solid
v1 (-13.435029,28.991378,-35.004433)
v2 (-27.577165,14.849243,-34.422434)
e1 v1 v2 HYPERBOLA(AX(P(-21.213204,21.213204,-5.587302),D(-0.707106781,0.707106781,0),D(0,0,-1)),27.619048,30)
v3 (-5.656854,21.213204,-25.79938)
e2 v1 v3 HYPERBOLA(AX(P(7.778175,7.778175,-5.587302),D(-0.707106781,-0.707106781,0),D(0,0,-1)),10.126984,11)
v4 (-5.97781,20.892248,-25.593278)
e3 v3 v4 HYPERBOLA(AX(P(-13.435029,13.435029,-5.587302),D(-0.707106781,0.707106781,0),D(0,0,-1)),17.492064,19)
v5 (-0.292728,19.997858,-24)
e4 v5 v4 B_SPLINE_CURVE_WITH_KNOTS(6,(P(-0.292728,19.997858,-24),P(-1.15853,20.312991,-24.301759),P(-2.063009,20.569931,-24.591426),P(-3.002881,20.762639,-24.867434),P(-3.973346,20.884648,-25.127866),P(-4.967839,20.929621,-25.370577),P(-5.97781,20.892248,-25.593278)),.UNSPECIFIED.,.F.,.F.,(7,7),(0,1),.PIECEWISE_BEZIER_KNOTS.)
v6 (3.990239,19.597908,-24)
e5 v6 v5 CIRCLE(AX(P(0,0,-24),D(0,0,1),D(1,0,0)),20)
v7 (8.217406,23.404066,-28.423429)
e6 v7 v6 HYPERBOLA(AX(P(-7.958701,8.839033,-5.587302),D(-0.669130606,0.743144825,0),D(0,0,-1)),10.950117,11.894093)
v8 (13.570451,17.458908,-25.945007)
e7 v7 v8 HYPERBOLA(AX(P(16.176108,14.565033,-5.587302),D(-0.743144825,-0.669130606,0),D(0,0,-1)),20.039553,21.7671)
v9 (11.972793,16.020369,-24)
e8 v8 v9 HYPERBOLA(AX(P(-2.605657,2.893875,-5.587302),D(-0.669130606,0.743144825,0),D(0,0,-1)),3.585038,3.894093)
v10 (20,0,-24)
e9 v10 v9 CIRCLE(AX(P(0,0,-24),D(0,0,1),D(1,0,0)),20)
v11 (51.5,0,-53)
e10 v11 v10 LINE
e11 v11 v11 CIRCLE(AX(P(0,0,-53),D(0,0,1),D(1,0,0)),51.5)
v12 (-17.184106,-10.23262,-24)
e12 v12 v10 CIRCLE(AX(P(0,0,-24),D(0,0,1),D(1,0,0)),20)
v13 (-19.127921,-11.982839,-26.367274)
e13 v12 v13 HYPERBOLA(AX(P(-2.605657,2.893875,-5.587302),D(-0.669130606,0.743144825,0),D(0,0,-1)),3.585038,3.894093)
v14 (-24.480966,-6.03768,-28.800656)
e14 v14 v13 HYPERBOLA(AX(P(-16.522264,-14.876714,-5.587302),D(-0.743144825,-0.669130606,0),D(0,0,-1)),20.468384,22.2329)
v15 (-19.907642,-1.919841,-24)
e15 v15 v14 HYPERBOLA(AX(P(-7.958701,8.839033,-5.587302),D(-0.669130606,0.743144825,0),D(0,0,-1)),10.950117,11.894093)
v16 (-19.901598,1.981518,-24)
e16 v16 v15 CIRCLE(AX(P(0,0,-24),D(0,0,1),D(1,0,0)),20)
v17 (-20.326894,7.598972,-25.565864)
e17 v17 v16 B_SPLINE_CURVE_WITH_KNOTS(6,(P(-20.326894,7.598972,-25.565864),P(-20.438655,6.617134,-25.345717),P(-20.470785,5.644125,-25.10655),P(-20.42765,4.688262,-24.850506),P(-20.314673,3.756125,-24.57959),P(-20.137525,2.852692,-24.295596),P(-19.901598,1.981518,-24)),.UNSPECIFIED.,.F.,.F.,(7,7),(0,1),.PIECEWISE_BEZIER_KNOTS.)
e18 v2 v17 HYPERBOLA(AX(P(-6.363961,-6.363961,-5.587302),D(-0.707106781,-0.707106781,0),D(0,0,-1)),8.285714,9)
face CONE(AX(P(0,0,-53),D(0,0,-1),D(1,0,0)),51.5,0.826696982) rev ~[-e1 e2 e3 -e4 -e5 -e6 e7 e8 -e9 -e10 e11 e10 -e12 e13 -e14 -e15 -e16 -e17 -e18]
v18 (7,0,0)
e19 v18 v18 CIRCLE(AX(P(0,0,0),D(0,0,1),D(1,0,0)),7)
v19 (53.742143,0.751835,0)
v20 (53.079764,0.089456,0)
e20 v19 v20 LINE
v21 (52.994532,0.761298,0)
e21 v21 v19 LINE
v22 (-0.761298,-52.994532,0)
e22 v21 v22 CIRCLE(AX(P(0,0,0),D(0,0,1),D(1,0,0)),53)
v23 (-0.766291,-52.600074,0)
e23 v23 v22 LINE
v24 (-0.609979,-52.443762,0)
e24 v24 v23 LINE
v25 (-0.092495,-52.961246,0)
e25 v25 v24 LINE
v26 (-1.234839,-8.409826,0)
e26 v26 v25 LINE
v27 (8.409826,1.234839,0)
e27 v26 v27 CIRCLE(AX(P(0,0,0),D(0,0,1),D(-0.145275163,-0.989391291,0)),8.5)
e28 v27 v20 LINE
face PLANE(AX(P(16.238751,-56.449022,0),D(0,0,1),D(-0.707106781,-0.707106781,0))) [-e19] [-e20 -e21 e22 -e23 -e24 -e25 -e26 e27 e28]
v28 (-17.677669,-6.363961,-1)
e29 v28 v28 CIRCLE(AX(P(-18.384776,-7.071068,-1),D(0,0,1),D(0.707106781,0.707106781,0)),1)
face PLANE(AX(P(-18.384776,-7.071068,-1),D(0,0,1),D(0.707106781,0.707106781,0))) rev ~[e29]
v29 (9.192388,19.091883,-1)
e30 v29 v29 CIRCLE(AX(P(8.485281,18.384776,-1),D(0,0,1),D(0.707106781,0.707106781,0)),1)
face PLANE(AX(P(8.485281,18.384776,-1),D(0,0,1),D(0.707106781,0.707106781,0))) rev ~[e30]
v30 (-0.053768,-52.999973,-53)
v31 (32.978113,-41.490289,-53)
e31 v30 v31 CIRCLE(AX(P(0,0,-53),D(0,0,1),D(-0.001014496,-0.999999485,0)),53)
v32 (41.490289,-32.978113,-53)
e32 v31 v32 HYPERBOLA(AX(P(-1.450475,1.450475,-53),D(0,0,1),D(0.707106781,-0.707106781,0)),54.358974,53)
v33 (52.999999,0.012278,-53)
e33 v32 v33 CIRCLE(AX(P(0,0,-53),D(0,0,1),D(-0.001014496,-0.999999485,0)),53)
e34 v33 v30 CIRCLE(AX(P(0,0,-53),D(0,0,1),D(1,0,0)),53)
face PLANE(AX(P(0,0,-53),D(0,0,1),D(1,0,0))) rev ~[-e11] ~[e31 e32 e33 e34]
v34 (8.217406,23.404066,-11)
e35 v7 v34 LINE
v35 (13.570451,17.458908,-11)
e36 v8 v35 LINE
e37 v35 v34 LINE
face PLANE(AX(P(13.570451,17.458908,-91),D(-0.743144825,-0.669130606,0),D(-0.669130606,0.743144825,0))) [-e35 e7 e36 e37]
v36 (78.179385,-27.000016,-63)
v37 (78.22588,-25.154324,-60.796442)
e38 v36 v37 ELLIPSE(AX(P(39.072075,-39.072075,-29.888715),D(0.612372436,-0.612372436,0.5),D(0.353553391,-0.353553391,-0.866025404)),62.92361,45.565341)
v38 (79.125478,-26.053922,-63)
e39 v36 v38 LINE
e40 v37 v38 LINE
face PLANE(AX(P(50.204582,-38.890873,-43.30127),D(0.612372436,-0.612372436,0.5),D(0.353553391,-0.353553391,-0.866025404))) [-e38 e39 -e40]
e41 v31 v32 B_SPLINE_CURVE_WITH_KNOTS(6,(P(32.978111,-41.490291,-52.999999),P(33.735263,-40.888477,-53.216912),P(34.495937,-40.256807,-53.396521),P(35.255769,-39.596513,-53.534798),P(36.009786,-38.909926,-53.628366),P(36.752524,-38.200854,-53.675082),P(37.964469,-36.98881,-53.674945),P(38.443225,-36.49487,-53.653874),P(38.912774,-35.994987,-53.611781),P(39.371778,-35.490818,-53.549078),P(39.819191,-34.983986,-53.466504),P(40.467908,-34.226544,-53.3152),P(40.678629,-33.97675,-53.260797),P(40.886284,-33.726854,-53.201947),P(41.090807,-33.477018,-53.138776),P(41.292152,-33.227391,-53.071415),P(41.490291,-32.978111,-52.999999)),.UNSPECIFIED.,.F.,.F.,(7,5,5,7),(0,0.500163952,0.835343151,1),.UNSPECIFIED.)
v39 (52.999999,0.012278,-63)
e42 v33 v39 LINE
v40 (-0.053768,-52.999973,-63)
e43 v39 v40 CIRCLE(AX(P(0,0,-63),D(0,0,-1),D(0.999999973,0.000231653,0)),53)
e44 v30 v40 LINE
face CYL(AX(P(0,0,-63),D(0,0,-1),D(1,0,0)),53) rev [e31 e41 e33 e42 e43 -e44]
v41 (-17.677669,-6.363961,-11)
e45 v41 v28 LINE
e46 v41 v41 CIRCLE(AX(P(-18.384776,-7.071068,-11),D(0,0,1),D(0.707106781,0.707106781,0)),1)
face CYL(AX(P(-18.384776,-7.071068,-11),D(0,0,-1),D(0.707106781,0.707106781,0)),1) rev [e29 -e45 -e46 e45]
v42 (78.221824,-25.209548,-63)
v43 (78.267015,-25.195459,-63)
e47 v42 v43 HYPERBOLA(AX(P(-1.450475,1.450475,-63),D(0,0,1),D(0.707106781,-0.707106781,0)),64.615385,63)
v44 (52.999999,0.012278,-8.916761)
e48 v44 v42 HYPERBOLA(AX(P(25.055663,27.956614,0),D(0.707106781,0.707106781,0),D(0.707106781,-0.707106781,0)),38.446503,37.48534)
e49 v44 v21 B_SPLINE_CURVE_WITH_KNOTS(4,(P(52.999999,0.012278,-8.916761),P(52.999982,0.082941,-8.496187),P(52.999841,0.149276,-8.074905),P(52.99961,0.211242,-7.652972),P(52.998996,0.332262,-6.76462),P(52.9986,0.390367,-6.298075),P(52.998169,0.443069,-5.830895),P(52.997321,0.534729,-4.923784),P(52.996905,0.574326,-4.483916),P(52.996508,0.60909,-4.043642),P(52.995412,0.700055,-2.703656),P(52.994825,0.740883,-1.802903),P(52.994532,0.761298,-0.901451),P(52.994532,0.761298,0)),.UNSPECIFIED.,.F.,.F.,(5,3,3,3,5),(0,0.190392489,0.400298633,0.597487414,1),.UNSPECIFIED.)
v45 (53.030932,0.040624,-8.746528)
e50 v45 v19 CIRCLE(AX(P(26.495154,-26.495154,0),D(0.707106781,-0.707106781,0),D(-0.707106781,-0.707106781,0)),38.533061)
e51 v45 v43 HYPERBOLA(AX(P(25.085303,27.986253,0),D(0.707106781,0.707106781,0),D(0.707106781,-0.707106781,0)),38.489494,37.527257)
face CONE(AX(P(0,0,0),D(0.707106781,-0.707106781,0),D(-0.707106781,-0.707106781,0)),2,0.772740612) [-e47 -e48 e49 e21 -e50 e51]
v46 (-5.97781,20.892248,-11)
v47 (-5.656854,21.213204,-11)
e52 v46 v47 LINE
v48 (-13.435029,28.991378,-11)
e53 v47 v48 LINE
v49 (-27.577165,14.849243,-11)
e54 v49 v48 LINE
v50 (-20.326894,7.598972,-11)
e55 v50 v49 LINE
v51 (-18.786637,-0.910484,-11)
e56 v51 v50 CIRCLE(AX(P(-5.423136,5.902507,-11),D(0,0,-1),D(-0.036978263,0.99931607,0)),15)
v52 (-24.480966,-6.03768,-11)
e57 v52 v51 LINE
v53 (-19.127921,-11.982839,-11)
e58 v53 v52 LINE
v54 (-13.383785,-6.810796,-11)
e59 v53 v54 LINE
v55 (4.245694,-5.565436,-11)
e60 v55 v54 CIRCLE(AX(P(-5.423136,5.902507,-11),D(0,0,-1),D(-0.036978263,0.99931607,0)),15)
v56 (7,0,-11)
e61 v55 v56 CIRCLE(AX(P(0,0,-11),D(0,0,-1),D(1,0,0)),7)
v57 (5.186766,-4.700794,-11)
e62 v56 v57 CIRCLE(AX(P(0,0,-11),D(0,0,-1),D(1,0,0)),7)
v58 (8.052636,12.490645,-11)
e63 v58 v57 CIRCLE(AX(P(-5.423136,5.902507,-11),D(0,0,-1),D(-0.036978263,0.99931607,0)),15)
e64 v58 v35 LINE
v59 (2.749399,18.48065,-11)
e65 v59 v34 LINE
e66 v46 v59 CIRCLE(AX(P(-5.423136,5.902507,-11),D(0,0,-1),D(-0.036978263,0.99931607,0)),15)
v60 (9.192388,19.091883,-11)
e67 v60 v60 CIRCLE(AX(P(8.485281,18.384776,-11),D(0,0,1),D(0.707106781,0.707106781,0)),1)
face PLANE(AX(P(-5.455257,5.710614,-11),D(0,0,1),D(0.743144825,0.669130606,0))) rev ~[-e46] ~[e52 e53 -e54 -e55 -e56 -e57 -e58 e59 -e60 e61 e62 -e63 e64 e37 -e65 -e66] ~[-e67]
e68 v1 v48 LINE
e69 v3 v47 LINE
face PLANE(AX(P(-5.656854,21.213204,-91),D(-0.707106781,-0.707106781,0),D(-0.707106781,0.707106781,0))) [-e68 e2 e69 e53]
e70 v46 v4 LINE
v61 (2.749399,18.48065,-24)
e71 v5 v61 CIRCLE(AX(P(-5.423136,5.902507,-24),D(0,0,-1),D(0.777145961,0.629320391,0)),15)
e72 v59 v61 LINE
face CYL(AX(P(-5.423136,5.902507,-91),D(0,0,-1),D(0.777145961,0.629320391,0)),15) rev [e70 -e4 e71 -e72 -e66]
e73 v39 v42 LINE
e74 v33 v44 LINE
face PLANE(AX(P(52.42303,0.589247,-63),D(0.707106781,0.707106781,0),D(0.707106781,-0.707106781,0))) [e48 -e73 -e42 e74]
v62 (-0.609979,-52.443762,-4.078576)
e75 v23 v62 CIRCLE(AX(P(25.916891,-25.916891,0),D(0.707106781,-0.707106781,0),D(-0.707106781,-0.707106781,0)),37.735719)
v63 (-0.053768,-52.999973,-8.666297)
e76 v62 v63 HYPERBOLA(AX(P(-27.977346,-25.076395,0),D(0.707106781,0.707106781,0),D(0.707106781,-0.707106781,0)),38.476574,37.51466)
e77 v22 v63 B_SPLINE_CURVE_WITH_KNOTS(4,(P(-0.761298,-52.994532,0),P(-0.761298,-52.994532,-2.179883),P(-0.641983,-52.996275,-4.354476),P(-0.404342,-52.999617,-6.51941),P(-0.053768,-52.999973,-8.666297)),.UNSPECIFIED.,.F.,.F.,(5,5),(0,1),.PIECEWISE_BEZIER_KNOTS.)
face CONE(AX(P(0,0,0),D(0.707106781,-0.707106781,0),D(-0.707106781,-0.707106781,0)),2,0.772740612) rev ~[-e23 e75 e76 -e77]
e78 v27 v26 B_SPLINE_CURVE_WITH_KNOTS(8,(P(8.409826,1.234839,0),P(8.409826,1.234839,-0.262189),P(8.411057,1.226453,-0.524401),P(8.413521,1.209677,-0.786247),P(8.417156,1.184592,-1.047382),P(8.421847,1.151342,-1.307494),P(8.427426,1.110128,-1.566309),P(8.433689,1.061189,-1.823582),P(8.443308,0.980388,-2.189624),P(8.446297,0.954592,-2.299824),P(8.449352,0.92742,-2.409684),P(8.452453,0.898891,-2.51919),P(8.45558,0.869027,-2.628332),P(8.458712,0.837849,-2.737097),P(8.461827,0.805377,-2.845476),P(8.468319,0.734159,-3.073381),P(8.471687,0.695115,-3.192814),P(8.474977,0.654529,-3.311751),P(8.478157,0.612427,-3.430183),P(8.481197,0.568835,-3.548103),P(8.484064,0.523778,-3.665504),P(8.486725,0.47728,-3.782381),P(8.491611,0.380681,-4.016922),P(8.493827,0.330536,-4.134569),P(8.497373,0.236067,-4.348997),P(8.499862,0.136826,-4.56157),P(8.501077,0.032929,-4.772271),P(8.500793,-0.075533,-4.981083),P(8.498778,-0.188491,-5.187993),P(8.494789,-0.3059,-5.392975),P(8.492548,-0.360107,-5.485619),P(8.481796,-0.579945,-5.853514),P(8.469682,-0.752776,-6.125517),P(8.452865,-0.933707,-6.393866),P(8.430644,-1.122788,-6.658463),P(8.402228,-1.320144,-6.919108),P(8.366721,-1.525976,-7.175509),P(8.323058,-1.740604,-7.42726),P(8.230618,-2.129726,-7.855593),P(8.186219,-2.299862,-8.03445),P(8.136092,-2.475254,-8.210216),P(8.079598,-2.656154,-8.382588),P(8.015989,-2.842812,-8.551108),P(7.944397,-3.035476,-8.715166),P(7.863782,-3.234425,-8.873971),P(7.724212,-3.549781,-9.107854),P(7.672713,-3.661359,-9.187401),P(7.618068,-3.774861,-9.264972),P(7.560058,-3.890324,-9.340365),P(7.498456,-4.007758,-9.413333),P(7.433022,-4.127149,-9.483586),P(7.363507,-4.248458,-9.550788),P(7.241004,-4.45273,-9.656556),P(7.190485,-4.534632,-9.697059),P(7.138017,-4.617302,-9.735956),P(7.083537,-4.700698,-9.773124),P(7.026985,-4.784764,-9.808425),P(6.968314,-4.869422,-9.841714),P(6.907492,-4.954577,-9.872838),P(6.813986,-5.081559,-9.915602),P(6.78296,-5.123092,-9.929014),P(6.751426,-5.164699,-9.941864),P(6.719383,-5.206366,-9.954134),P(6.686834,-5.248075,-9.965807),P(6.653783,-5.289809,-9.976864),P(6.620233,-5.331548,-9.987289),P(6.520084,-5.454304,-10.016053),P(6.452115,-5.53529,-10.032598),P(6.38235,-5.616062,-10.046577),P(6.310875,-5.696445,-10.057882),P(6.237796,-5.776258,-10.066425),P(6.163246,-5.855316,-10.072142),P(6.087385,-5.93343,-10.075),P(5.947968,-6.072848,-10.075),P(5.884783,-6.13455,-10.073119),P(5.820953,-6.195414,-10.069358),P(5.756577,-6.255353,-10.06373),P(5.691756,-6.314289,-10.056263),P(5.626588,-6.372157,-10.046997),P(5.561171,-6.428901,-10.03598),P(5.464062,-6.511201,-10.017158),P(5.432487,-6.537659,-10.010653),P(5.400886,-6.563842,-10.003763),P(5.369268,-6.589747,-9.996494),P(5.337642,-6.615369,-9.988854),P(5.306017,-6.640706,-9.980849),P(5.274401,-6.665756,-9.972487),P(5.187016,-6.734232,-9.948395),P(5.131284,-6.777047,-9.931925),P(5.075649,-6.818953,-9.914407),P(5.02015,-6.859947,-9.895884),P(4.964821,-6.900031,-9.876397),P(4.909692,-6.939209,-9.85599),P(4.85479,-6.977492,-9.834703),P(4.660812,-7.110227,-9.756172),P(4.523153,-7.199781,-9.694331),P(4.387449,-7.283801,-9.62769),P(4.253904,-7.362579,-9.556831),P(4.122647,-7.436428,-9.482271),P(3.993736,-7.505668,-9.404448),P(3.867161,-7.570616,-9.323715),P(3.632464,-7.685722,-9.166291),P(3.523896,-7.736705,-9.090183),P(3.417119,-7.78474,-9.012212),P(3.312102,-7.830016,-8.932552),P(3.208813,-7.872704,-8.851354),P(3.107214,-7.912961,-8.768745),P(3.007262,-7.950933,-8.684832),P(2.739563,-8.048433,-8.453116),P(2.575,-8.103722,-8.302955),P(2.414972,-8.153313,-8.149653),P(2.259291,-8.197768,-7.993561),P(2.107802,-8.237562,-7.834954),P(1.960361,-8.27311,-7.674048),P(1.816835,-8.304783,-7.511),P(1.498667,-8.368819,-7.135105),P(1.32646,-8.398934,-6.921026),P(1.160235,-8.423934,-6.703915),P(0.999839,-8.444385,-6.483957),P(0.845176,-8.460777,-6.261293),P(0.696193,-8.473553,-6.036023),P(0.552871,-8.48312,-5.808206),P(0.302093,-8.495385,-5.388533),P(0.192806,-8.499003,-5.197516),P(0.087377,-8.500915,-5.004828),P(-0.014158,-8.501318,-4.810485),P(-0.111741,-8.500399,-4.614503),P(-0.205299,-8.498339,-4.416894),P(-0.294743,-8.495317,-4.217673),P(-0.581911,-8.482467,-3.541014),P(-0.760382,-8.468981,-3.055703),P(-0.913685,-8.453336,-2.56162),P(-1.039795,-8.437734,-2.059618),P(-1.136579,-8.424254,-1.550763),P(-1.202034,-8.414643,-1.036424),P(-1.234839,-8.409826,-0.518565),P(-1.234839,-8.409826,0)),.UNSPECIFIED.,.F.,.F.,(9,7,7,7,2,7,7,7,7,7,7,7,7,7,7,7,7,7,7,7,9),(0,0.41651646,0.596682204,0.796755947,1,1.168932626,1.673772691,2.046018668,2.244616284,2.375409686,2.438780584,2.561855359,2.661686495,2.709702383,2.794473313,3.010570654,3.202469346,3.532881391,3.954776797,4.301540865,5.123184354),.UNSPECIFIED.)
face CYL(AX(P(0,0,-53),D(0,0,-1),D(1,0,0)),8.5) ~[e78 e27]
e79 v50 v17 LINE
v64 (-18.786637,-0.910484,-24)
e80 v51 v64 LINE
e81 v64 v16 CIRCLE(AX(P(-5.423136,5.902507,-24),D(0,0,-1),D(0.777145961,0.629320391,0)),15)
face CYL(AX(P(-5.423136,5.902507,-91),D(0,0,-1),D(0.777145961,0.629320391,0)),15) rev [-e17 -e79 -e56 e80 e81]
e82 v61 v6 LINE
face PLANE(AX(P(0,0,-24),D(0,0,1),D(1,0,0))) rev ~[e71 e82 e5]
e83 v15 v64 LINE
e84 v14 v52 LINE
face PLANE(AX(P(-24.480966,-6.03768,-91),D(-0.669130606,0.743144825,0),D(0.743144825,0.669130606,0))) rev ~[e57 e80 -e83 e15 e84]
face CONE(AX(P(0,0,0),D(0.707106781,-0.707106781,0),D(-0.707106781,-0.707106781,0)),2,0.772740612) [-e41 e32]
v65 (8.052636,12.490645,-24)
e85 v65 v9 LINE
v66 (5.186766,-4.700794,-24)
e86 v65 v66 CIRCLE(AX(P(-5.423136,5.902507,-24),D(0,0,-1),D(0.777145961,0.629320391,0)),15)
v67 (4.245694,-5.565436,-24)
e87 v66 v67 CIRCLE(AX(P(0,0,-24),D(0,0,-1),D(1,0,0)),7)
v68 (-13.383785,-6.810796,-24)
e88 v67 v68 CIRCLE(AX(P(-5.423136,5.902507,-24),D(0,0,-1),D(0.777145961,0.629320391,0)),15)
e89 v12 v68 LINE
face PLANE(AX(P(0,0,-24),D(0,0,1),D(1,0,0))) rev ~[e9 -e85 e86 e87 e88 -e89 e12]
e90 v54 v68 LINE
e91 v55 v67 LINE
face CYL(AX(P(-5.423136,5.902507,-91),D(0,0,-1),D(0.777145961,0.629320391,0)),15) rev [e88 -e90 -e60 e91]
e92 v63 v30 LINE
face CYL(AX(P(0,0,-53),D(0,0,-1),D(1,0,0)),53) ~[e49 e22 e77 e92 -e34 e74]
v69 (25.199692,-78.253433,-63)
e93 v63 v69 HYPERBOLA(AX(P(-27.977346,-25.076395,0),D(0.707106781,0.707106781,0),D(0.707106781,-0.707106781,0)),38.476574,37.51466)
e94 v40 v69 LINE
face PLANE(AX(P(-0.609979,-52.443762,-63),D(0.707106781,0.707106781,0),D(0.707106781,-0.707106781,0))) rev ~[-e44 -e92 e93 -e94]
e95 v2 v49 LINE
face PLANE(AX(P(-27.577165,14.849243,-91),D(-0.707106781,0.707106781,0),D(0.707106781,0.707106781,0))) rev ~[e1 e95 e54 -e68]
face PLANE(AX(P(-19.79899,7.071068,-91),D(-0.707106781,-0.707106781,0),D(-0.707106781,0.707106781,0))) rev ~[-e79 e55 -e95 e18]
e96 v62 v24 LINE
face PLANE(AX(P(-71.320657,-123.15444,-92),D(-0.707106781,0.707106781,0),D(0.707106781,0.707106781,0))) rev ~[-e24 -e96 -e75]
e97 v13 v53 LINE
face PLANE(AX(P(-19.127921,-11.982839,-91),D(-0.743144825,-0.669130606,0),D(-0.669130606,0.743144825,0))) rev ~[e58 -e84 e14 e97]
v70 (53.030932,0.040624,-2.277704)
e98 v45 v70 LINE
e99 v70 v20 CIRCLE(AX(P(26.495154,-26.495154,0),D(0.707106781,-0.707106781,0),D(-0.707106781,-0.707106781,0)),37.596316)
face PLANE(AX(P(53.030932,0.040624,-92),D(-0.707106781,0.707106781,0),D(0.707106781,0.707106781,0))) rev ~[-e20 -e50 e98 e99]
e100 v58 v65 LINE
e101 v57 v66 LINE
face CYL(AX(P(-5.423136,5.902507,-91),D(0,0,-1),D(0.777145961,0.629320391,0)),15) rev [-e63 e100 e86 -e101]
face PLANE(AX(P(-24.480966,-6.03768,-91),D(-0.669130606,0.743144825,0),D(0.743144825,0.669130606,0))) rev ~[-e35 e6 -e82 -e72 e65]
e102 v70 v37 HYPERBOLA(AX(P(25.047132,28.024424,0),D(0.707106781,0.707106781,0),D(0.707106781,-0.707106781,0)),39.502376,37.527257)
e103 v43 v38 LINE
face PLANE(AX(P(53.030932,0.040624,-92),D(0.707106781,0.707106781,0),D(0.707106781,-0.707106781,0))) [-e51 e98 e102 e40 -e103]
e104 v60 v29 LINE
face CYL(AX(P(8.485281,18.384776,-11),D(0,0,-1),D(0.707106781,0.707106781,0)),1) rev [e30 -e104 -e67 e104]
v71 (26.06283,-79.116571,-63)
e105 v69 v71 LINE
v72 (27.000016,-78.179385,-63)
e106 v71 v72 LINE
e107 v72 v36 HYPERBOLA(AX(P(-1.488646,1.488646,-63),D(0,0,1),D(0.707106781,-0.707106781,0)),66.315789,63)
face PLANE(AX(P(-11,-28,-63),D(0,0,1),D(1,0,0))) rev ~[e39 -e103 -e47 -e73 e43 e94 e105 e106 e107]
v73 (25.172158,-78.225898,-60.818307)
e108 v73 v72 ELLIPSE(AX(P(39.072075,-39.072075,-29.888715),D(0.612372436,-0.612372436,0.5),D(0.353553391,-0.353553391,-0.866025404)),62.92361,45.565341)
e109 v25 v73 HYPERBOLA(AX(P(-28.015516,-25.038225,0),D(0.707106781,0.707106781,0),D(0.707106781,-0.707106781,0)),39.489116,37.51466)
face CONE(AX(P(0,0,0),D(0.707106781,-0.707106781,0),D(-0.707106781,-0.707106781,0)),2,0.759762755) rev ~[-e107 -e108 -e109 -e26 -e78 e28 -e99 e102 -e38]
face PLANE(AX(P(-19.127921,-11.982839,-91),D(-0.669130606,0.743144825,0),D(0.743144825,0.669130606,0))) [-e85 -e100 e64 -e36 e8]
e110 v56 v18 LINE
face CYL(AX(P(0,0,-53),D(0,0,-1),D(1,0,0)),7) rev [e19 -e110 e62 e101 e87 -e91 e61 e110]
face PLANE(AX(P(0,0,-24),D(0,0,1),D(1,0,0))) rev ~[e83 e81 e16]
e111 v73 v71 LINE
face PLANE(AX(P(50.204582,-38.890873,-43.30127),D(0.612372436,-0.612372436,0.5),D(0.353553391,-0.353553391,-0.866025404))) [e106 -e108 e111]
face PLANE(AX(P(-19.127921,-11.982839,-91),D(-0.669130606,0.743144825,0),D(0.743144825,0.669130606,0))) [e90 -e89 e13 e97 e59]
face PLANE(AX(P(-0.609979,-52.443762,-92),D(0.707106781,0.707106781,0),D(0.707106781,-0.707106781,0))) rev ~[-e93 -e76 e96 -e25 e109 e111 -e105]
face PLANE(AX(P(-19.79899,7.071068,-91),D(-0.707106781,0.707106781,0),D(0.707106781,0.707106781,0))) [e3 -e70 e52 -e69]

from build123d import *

# Parameters (mm, degrees)
CYLINDER009_R               = 15
CYLINDER009_DEPTH           = 80
CYLINDER009_PLACEMENT_ANGLE = 39
BOX010_W                    = 44
BOX010_H                    = 8
BOX010_DEPTH                = 80
BOX010_PLACEMENT_ANGLE      = 42
CYLINDER010_R               = 1
CYLINDER010_DEPTH           = 10
CYLINDER010_PLACEMENT_ANGLE = 45
CYLINDER011_R               = 1
CYLINDER011_DEPTH           = 10
CYLINDER011_PLACEMENT_ANGLE = 45
BOX011_W                    = 20
BOX011_H                    = 11
BOX011_DEPTH                = 80
BOX011_PLACEMENT_ANGLE      = 45
CYLINDER007_R               = 8.5
CYLINDER007_DEPTH           = 45
BOX005_W                    = 100
BOX005_H                    = 200
BOX005_DEPTH                = 50
BOX005_PITCH_ANGLE          = 60
BOX005_PLACEMENT_ANGLE      = -45
BOX016_W                    = 100
BOX016_H                    = 100
BOX016_DEPTH                = 100
BOX016_PLACEMENT_ANGLE      = 45
BOX017_W                    = 100
BOX017_H                    = 100
BOX017_DEPTH                = 100
BOX017_PLACEMENT_ANGLE      = 45
BOX018_W                    = 200
BOX018_H                    = 200
BOX018_DEPTH                = 200
CONE003_ANGLE               = 180
CONE003_ROLL_ANGLE          = -90
CONE003_PLACEMENT_ANGLE     = -135
CONE002_ANGLE               = 180
CONE002_ROLL_ANGLE          = -90
CONE002_PLACEMENT_ANGLE     = -135
CYLINDER018_R               = 53
CYLINDER018_DEPTH           = 60
BOX019_W                    = 38
BOX019_H                    = 75
BOX019_DEPTH                = 63
BOX019_PLACEMENT_ANGLE      = 45
CYLINDER006_R               = 53
CYLINDER006_DEPTH           = 53
TUBE009_R                   = 8.5
TUBE009_R_2                 = 7
TUBE009_DEPTH               = 53


with BuildPart() as cylinder009:
    # Cylinder009 → Cylinder009 (new body)
    with BuildSketch(Plane.XY):
        Circle(CYLINDER009_R)
    extrude(amount=CYLINDER009_DEPTH)


with BuildPart() as cylinder009_1:
    # Cylinder009 placement: moved
    add(cylinder009.part.moved(Location((-5.423136, 5.902507, -91))).rotate(Axis((-5.423136, 5.902507, -91), (0, 0, 1)), CYLINDER009_PLACEMENT_ANGLE))


with BuildPart() as cube010:
    # Box010 → Box010 (new body)
    with BuildSketch(Plane.XY):
        with Locations((22, 4)):
            Rectangle(BOX010_W, BOX010_H)
    extrude(amount=BOX010_DEPTH)


with BuildPart() as cube010_1:
    # Box010 placement: moved
    add(cube010.part.moved(Location((-19.127921, -11.982839, -91))).rotate(Axis((-19.127921, -11.982839, -91), (0, 0, 1)), BOX010_PLACEMENT_ANGLE))


with BuildPart() as cone004:
    # Cone004 → Cone004 (revolve)
    with BuildSketch(Plane(origin=(0, 0, -53), x_dir=(1, 0, 0), z_dir=(0, -1, 0))):
        Polygon((0, 0), (51.5, 0), (20, 29), (0, 29), align=None)
    revolve(axis=Axis((0, 0, -53), (0, 0, 1)))


with BuildPart() as cylinder010:
    # Cylinder010 → Cylinder010 (new body)
    with BuildSketch(Plane.XY):
        Circle(CYLINDER010_R)
    extrude(amount=CYLINDER010_DEPTH)


with BuildPart() as cylinder010_1:
    # Cylinder010 placement: moved
    add(cylinder010.part.moved(Location((-18.384776, -7.071068, -11))).rotate(Axis((-18.384776, -7.071068, -11), (0, 0, 1)), CYLINDER010_PLACEMENT_ANGLE))


with BuildPart() as cylinder011:
    # Cylinder011 → Cylinder011 (new body)
    with BuildSketch(Plane.XY):
        Circle(CYLINDER011_R)
    extrude(amount=CYLINDER011_DEPTH)


with BuildPart() as cylinder011_1:
    # Cylinder011 placement: moved
    add(cylinder011.part.moved(Location((8.485281, 18.384776, -11))).rotate(Axis((8.485281, 18.384776, -11), (0, 0, 1)), CYLINDER011_PLACEMENT_ANGLE))


with BuildPart() as fusion010:
    # Box011 → Box011 (new body)
    with BuildSketch(Plane.XY):
        with Locations((10, 5.5)):
            Rectangle(BOX011_W, BOX011_H)
    extrude(amount=BOX011_DEPTH)


with BuildPart() as fusion010_1:
    # Box011 placement: moved
    add(fusion010.part.moved(Location((-19.79899, 7.071068, -91))).rotate(Axis((-19.79899, 7.071068, -91), (0, 0, 1)), BOX011_PLACEMENT_ANGLE))

    # Fusion010: union Cylinder009, Cube010, Cone004, Cylinder010, Cylinder011
    add(cylinder009_1.part)
    add(cube010_1.part)
    add(cone004.part)
    add(cylinder010_1.part)
    add(cylinder011_1.part)


with BuildPart() as cylinder007:
    # Cylinder007 → Cylinder007 (new body)
    with BuildSketch(Plane.XY.offset(-43)):
        Circle(CYLINDER007_R)
    extrude(amount=CYLINDER007_DEPTH)


with BuildPart() as cube005:
    # Box005 → Box005 (new body)
    with BuildSketch(Plane.XY):
        with Locations((50, 100)):
            Rectangle(BOX005_W, BOX005_H)
    extrude(amount=BOX005_DEPTH)


with BuildPart() as cube005_1:
    # Box005 pitch: moved
    add(cube005.part.rotate(Axis((0, 0, 0), (0, 1, 0)), BOX005_PITCH_ANGLE))


with BuildPart() as cube005_2:
    # Box005 placement: moved
    add(cube005_1.part.moved(Location((-38.183766, -91.923882, 0))).rotate(Axis((-38.183766, -91.923882, 0), (0, 0, 1)), BOX005_PLACEMENT_ANGLE))


with BuildPart() as cube016:
    # Box016 → Box016 (new body)
    with BuildSketch(Plane.XY):
        with Locations((50, 50)):
            Rectangle(BOX016_W, BOX016_H)
    extrude(amount=BOX016_DEPTH)


with BuildPart() as cube016_1:
    # Box016 placement: moved
    add(cube016.part.moved(Location((-71.320657, -123.15444, -92))).rotate(Axis((-71.320657, -123.15444, -92), (0, 0, -1)), BOX016_PLACEMENT_ANGLE))


with BuildPart() as cube017:
    # Box017 → Box017 (new body)
    with BuildSketch(Plane.XY):
        with Locations((50, 50)):
            Rectangle(BOX017_W, BOX017_H)
    extrude(amount=BOX017_DEPTH)


with BuildPart() as cube017_1:
    # Box017 placement: moved
    add(cube017.part.moved(Location((53.030932, 0.040624, -92))).rotate(Axis((53.030932, 0.040624, -92), (0, 0, -1)), BOX017_PLACEMENT_ANGLE))


with BuildPart() as cube018:
    # Box018 → Box018 (new body)
    with BuildSketch(Plane(origin=(-111, -128, -263), x_dir=(1, 0, 0), z_dir=(0, 0, 1))):
        with Locations((100, 100)):
            Rectangle(BOX018_W, BOX018_H)
    extrude(amount=BOX018_DEPTH)


with BuildPart() as fusion009004:
    # Cone003 → Cone003 (revolve)
    with BuildSketch(Plane.XZ):
        Polygon((0, 0), (2, 0), (78, 80), (0, 80), align=None)
    revolve(axis=Axis((0, 0, 0), (0, 0, 1)), revolution_arc=CONE003_ANGLE)


with BuildPart() as fusion009004_1:
    # Cone003 roll: moved
    add(fusion009004.part.rotate(Axis((0, 0, 0), (1, 0, 0)), CONE003_ROLL_ANGLE))


with BuildPart() as fusion009004_2:
    # Cone003 placement: moved
    add(fusion009004_1.part.rotate(Axis((0, 0, 0), (0, 0, 1)), CONE003_PLACEMENT_ANGLE))

    # Fusion009004: union Cube016, Cube017, Cube018
    add(cube016_1.part)
    add(cube017_1.part)
    add(cube018.part)


with BuildPart() as cone002_vonkajsi:
    # Cone002 → Cone002 (revolve)
    with BuildSketch(Plane.XZ):
        Polygon((0, 0), (2, 0), (80, 80), (0, 80), align=None)
    revolve(axis=Axis((0, 0, 0), (0, 0, 1)), revolution_arc=CONE002_ANGLE)


with BuildPart() as cone002_vonkajsi_1:
    # Cone002 roll: moved
    add(cone002_vonkajsi.part.rotate(Axis((0, 0, 0), (1, 0, 0)), CONE002_ROLL_ANGLE))


with BuildPart() as cone002_vonkajsi_2:
    # Cone002 placement: moved
    add(cone002_vonkajsi_1.part.rotate(Axis((0, 0, 0), (0, 0, 1)), CONE002_PLACEMENT_ANGLE))


with BuildPart() as cut007:
    # Cut004 base: copy of Cone002_vonkajsi
    add(cone002_vonkajsi_2.part)

    # Cut004: cut Fusion009004
    add(fusion009004_2.part, mode=Mode.SUBTRACT)

    # Cut007: cut Cube005
    add(cube005_2.part, mode=Mode.SUBTRACT)


with BuildPart() as cylinder018:
    # Cylinder018 → Cylinder018 (new body)
    with BuildSketch(Plane.XY.offset(-63)):
        Circle(CYLINDER018_R)
    extrude(amount=CYLINDER018_DEPTH)


with BuildPart() as cut009005:
    # Box019 → Box019 (new body)
    with BuildSketch(Plane.XY):
        with Locations((19, 37.5)):
            Rectangle(BOX019_W, BOX019_H)
    extrude(amount=BOX019_DEPTH)


with BuildPart() as cut009005_1:
    # Box019 placement: moved
    add(cut009005.part.moved(Location((-0.609979, -52.443762, -63))).rotate(Axis((-0.609979, -52.443762, -63), (0, 0, -1)), BOX019_PLACEMENT_ANGLE))

    # Cut009005: cut Cylinder018
    add(cylinder018.part, mode=Mode.SUBTRACT)


with BuildPart() as cut006:
    # Cylinder006 → Cylinder006 (new body)
    with BuildSketch(Plane.XY.offset(-53)):
        Circle(CYLINDER006_R)
    extrude(amount=CYLINDER006_DEPTH)

    # Fusion009005: union Cut009005
    add(cut009005_1.part)

    # Cut005: cut Cone002_vonkajsi
    add(cone002_vonkajsi_2.part, mode=Mode.SUBTRACT)

    # Fusion005: union Cut007
    add(cut007.part)

    # Cut006: cut Cylinder007
    add(cylinder007.part, mode=Mode.SUBTRACT)


with BuildPart() as cut009_middle:
    # Tube009 → Tube009 (new body)
    with BuildSketch(Plane.XY.offset(-53)):
        Circle(TUBE009_R)
        Circle(TUBE009_R_2, mode=Mode.SUBTRACT)
    extrude(amount=TUBE009_DEPTH)

    # Fusion006: union Cut006
    add(cut006.part)

    # Cut009: cut Fusion010
    add(fusion010_1.part, mode=Mode.SUBTRACT)


solid = cut009_middle.part
